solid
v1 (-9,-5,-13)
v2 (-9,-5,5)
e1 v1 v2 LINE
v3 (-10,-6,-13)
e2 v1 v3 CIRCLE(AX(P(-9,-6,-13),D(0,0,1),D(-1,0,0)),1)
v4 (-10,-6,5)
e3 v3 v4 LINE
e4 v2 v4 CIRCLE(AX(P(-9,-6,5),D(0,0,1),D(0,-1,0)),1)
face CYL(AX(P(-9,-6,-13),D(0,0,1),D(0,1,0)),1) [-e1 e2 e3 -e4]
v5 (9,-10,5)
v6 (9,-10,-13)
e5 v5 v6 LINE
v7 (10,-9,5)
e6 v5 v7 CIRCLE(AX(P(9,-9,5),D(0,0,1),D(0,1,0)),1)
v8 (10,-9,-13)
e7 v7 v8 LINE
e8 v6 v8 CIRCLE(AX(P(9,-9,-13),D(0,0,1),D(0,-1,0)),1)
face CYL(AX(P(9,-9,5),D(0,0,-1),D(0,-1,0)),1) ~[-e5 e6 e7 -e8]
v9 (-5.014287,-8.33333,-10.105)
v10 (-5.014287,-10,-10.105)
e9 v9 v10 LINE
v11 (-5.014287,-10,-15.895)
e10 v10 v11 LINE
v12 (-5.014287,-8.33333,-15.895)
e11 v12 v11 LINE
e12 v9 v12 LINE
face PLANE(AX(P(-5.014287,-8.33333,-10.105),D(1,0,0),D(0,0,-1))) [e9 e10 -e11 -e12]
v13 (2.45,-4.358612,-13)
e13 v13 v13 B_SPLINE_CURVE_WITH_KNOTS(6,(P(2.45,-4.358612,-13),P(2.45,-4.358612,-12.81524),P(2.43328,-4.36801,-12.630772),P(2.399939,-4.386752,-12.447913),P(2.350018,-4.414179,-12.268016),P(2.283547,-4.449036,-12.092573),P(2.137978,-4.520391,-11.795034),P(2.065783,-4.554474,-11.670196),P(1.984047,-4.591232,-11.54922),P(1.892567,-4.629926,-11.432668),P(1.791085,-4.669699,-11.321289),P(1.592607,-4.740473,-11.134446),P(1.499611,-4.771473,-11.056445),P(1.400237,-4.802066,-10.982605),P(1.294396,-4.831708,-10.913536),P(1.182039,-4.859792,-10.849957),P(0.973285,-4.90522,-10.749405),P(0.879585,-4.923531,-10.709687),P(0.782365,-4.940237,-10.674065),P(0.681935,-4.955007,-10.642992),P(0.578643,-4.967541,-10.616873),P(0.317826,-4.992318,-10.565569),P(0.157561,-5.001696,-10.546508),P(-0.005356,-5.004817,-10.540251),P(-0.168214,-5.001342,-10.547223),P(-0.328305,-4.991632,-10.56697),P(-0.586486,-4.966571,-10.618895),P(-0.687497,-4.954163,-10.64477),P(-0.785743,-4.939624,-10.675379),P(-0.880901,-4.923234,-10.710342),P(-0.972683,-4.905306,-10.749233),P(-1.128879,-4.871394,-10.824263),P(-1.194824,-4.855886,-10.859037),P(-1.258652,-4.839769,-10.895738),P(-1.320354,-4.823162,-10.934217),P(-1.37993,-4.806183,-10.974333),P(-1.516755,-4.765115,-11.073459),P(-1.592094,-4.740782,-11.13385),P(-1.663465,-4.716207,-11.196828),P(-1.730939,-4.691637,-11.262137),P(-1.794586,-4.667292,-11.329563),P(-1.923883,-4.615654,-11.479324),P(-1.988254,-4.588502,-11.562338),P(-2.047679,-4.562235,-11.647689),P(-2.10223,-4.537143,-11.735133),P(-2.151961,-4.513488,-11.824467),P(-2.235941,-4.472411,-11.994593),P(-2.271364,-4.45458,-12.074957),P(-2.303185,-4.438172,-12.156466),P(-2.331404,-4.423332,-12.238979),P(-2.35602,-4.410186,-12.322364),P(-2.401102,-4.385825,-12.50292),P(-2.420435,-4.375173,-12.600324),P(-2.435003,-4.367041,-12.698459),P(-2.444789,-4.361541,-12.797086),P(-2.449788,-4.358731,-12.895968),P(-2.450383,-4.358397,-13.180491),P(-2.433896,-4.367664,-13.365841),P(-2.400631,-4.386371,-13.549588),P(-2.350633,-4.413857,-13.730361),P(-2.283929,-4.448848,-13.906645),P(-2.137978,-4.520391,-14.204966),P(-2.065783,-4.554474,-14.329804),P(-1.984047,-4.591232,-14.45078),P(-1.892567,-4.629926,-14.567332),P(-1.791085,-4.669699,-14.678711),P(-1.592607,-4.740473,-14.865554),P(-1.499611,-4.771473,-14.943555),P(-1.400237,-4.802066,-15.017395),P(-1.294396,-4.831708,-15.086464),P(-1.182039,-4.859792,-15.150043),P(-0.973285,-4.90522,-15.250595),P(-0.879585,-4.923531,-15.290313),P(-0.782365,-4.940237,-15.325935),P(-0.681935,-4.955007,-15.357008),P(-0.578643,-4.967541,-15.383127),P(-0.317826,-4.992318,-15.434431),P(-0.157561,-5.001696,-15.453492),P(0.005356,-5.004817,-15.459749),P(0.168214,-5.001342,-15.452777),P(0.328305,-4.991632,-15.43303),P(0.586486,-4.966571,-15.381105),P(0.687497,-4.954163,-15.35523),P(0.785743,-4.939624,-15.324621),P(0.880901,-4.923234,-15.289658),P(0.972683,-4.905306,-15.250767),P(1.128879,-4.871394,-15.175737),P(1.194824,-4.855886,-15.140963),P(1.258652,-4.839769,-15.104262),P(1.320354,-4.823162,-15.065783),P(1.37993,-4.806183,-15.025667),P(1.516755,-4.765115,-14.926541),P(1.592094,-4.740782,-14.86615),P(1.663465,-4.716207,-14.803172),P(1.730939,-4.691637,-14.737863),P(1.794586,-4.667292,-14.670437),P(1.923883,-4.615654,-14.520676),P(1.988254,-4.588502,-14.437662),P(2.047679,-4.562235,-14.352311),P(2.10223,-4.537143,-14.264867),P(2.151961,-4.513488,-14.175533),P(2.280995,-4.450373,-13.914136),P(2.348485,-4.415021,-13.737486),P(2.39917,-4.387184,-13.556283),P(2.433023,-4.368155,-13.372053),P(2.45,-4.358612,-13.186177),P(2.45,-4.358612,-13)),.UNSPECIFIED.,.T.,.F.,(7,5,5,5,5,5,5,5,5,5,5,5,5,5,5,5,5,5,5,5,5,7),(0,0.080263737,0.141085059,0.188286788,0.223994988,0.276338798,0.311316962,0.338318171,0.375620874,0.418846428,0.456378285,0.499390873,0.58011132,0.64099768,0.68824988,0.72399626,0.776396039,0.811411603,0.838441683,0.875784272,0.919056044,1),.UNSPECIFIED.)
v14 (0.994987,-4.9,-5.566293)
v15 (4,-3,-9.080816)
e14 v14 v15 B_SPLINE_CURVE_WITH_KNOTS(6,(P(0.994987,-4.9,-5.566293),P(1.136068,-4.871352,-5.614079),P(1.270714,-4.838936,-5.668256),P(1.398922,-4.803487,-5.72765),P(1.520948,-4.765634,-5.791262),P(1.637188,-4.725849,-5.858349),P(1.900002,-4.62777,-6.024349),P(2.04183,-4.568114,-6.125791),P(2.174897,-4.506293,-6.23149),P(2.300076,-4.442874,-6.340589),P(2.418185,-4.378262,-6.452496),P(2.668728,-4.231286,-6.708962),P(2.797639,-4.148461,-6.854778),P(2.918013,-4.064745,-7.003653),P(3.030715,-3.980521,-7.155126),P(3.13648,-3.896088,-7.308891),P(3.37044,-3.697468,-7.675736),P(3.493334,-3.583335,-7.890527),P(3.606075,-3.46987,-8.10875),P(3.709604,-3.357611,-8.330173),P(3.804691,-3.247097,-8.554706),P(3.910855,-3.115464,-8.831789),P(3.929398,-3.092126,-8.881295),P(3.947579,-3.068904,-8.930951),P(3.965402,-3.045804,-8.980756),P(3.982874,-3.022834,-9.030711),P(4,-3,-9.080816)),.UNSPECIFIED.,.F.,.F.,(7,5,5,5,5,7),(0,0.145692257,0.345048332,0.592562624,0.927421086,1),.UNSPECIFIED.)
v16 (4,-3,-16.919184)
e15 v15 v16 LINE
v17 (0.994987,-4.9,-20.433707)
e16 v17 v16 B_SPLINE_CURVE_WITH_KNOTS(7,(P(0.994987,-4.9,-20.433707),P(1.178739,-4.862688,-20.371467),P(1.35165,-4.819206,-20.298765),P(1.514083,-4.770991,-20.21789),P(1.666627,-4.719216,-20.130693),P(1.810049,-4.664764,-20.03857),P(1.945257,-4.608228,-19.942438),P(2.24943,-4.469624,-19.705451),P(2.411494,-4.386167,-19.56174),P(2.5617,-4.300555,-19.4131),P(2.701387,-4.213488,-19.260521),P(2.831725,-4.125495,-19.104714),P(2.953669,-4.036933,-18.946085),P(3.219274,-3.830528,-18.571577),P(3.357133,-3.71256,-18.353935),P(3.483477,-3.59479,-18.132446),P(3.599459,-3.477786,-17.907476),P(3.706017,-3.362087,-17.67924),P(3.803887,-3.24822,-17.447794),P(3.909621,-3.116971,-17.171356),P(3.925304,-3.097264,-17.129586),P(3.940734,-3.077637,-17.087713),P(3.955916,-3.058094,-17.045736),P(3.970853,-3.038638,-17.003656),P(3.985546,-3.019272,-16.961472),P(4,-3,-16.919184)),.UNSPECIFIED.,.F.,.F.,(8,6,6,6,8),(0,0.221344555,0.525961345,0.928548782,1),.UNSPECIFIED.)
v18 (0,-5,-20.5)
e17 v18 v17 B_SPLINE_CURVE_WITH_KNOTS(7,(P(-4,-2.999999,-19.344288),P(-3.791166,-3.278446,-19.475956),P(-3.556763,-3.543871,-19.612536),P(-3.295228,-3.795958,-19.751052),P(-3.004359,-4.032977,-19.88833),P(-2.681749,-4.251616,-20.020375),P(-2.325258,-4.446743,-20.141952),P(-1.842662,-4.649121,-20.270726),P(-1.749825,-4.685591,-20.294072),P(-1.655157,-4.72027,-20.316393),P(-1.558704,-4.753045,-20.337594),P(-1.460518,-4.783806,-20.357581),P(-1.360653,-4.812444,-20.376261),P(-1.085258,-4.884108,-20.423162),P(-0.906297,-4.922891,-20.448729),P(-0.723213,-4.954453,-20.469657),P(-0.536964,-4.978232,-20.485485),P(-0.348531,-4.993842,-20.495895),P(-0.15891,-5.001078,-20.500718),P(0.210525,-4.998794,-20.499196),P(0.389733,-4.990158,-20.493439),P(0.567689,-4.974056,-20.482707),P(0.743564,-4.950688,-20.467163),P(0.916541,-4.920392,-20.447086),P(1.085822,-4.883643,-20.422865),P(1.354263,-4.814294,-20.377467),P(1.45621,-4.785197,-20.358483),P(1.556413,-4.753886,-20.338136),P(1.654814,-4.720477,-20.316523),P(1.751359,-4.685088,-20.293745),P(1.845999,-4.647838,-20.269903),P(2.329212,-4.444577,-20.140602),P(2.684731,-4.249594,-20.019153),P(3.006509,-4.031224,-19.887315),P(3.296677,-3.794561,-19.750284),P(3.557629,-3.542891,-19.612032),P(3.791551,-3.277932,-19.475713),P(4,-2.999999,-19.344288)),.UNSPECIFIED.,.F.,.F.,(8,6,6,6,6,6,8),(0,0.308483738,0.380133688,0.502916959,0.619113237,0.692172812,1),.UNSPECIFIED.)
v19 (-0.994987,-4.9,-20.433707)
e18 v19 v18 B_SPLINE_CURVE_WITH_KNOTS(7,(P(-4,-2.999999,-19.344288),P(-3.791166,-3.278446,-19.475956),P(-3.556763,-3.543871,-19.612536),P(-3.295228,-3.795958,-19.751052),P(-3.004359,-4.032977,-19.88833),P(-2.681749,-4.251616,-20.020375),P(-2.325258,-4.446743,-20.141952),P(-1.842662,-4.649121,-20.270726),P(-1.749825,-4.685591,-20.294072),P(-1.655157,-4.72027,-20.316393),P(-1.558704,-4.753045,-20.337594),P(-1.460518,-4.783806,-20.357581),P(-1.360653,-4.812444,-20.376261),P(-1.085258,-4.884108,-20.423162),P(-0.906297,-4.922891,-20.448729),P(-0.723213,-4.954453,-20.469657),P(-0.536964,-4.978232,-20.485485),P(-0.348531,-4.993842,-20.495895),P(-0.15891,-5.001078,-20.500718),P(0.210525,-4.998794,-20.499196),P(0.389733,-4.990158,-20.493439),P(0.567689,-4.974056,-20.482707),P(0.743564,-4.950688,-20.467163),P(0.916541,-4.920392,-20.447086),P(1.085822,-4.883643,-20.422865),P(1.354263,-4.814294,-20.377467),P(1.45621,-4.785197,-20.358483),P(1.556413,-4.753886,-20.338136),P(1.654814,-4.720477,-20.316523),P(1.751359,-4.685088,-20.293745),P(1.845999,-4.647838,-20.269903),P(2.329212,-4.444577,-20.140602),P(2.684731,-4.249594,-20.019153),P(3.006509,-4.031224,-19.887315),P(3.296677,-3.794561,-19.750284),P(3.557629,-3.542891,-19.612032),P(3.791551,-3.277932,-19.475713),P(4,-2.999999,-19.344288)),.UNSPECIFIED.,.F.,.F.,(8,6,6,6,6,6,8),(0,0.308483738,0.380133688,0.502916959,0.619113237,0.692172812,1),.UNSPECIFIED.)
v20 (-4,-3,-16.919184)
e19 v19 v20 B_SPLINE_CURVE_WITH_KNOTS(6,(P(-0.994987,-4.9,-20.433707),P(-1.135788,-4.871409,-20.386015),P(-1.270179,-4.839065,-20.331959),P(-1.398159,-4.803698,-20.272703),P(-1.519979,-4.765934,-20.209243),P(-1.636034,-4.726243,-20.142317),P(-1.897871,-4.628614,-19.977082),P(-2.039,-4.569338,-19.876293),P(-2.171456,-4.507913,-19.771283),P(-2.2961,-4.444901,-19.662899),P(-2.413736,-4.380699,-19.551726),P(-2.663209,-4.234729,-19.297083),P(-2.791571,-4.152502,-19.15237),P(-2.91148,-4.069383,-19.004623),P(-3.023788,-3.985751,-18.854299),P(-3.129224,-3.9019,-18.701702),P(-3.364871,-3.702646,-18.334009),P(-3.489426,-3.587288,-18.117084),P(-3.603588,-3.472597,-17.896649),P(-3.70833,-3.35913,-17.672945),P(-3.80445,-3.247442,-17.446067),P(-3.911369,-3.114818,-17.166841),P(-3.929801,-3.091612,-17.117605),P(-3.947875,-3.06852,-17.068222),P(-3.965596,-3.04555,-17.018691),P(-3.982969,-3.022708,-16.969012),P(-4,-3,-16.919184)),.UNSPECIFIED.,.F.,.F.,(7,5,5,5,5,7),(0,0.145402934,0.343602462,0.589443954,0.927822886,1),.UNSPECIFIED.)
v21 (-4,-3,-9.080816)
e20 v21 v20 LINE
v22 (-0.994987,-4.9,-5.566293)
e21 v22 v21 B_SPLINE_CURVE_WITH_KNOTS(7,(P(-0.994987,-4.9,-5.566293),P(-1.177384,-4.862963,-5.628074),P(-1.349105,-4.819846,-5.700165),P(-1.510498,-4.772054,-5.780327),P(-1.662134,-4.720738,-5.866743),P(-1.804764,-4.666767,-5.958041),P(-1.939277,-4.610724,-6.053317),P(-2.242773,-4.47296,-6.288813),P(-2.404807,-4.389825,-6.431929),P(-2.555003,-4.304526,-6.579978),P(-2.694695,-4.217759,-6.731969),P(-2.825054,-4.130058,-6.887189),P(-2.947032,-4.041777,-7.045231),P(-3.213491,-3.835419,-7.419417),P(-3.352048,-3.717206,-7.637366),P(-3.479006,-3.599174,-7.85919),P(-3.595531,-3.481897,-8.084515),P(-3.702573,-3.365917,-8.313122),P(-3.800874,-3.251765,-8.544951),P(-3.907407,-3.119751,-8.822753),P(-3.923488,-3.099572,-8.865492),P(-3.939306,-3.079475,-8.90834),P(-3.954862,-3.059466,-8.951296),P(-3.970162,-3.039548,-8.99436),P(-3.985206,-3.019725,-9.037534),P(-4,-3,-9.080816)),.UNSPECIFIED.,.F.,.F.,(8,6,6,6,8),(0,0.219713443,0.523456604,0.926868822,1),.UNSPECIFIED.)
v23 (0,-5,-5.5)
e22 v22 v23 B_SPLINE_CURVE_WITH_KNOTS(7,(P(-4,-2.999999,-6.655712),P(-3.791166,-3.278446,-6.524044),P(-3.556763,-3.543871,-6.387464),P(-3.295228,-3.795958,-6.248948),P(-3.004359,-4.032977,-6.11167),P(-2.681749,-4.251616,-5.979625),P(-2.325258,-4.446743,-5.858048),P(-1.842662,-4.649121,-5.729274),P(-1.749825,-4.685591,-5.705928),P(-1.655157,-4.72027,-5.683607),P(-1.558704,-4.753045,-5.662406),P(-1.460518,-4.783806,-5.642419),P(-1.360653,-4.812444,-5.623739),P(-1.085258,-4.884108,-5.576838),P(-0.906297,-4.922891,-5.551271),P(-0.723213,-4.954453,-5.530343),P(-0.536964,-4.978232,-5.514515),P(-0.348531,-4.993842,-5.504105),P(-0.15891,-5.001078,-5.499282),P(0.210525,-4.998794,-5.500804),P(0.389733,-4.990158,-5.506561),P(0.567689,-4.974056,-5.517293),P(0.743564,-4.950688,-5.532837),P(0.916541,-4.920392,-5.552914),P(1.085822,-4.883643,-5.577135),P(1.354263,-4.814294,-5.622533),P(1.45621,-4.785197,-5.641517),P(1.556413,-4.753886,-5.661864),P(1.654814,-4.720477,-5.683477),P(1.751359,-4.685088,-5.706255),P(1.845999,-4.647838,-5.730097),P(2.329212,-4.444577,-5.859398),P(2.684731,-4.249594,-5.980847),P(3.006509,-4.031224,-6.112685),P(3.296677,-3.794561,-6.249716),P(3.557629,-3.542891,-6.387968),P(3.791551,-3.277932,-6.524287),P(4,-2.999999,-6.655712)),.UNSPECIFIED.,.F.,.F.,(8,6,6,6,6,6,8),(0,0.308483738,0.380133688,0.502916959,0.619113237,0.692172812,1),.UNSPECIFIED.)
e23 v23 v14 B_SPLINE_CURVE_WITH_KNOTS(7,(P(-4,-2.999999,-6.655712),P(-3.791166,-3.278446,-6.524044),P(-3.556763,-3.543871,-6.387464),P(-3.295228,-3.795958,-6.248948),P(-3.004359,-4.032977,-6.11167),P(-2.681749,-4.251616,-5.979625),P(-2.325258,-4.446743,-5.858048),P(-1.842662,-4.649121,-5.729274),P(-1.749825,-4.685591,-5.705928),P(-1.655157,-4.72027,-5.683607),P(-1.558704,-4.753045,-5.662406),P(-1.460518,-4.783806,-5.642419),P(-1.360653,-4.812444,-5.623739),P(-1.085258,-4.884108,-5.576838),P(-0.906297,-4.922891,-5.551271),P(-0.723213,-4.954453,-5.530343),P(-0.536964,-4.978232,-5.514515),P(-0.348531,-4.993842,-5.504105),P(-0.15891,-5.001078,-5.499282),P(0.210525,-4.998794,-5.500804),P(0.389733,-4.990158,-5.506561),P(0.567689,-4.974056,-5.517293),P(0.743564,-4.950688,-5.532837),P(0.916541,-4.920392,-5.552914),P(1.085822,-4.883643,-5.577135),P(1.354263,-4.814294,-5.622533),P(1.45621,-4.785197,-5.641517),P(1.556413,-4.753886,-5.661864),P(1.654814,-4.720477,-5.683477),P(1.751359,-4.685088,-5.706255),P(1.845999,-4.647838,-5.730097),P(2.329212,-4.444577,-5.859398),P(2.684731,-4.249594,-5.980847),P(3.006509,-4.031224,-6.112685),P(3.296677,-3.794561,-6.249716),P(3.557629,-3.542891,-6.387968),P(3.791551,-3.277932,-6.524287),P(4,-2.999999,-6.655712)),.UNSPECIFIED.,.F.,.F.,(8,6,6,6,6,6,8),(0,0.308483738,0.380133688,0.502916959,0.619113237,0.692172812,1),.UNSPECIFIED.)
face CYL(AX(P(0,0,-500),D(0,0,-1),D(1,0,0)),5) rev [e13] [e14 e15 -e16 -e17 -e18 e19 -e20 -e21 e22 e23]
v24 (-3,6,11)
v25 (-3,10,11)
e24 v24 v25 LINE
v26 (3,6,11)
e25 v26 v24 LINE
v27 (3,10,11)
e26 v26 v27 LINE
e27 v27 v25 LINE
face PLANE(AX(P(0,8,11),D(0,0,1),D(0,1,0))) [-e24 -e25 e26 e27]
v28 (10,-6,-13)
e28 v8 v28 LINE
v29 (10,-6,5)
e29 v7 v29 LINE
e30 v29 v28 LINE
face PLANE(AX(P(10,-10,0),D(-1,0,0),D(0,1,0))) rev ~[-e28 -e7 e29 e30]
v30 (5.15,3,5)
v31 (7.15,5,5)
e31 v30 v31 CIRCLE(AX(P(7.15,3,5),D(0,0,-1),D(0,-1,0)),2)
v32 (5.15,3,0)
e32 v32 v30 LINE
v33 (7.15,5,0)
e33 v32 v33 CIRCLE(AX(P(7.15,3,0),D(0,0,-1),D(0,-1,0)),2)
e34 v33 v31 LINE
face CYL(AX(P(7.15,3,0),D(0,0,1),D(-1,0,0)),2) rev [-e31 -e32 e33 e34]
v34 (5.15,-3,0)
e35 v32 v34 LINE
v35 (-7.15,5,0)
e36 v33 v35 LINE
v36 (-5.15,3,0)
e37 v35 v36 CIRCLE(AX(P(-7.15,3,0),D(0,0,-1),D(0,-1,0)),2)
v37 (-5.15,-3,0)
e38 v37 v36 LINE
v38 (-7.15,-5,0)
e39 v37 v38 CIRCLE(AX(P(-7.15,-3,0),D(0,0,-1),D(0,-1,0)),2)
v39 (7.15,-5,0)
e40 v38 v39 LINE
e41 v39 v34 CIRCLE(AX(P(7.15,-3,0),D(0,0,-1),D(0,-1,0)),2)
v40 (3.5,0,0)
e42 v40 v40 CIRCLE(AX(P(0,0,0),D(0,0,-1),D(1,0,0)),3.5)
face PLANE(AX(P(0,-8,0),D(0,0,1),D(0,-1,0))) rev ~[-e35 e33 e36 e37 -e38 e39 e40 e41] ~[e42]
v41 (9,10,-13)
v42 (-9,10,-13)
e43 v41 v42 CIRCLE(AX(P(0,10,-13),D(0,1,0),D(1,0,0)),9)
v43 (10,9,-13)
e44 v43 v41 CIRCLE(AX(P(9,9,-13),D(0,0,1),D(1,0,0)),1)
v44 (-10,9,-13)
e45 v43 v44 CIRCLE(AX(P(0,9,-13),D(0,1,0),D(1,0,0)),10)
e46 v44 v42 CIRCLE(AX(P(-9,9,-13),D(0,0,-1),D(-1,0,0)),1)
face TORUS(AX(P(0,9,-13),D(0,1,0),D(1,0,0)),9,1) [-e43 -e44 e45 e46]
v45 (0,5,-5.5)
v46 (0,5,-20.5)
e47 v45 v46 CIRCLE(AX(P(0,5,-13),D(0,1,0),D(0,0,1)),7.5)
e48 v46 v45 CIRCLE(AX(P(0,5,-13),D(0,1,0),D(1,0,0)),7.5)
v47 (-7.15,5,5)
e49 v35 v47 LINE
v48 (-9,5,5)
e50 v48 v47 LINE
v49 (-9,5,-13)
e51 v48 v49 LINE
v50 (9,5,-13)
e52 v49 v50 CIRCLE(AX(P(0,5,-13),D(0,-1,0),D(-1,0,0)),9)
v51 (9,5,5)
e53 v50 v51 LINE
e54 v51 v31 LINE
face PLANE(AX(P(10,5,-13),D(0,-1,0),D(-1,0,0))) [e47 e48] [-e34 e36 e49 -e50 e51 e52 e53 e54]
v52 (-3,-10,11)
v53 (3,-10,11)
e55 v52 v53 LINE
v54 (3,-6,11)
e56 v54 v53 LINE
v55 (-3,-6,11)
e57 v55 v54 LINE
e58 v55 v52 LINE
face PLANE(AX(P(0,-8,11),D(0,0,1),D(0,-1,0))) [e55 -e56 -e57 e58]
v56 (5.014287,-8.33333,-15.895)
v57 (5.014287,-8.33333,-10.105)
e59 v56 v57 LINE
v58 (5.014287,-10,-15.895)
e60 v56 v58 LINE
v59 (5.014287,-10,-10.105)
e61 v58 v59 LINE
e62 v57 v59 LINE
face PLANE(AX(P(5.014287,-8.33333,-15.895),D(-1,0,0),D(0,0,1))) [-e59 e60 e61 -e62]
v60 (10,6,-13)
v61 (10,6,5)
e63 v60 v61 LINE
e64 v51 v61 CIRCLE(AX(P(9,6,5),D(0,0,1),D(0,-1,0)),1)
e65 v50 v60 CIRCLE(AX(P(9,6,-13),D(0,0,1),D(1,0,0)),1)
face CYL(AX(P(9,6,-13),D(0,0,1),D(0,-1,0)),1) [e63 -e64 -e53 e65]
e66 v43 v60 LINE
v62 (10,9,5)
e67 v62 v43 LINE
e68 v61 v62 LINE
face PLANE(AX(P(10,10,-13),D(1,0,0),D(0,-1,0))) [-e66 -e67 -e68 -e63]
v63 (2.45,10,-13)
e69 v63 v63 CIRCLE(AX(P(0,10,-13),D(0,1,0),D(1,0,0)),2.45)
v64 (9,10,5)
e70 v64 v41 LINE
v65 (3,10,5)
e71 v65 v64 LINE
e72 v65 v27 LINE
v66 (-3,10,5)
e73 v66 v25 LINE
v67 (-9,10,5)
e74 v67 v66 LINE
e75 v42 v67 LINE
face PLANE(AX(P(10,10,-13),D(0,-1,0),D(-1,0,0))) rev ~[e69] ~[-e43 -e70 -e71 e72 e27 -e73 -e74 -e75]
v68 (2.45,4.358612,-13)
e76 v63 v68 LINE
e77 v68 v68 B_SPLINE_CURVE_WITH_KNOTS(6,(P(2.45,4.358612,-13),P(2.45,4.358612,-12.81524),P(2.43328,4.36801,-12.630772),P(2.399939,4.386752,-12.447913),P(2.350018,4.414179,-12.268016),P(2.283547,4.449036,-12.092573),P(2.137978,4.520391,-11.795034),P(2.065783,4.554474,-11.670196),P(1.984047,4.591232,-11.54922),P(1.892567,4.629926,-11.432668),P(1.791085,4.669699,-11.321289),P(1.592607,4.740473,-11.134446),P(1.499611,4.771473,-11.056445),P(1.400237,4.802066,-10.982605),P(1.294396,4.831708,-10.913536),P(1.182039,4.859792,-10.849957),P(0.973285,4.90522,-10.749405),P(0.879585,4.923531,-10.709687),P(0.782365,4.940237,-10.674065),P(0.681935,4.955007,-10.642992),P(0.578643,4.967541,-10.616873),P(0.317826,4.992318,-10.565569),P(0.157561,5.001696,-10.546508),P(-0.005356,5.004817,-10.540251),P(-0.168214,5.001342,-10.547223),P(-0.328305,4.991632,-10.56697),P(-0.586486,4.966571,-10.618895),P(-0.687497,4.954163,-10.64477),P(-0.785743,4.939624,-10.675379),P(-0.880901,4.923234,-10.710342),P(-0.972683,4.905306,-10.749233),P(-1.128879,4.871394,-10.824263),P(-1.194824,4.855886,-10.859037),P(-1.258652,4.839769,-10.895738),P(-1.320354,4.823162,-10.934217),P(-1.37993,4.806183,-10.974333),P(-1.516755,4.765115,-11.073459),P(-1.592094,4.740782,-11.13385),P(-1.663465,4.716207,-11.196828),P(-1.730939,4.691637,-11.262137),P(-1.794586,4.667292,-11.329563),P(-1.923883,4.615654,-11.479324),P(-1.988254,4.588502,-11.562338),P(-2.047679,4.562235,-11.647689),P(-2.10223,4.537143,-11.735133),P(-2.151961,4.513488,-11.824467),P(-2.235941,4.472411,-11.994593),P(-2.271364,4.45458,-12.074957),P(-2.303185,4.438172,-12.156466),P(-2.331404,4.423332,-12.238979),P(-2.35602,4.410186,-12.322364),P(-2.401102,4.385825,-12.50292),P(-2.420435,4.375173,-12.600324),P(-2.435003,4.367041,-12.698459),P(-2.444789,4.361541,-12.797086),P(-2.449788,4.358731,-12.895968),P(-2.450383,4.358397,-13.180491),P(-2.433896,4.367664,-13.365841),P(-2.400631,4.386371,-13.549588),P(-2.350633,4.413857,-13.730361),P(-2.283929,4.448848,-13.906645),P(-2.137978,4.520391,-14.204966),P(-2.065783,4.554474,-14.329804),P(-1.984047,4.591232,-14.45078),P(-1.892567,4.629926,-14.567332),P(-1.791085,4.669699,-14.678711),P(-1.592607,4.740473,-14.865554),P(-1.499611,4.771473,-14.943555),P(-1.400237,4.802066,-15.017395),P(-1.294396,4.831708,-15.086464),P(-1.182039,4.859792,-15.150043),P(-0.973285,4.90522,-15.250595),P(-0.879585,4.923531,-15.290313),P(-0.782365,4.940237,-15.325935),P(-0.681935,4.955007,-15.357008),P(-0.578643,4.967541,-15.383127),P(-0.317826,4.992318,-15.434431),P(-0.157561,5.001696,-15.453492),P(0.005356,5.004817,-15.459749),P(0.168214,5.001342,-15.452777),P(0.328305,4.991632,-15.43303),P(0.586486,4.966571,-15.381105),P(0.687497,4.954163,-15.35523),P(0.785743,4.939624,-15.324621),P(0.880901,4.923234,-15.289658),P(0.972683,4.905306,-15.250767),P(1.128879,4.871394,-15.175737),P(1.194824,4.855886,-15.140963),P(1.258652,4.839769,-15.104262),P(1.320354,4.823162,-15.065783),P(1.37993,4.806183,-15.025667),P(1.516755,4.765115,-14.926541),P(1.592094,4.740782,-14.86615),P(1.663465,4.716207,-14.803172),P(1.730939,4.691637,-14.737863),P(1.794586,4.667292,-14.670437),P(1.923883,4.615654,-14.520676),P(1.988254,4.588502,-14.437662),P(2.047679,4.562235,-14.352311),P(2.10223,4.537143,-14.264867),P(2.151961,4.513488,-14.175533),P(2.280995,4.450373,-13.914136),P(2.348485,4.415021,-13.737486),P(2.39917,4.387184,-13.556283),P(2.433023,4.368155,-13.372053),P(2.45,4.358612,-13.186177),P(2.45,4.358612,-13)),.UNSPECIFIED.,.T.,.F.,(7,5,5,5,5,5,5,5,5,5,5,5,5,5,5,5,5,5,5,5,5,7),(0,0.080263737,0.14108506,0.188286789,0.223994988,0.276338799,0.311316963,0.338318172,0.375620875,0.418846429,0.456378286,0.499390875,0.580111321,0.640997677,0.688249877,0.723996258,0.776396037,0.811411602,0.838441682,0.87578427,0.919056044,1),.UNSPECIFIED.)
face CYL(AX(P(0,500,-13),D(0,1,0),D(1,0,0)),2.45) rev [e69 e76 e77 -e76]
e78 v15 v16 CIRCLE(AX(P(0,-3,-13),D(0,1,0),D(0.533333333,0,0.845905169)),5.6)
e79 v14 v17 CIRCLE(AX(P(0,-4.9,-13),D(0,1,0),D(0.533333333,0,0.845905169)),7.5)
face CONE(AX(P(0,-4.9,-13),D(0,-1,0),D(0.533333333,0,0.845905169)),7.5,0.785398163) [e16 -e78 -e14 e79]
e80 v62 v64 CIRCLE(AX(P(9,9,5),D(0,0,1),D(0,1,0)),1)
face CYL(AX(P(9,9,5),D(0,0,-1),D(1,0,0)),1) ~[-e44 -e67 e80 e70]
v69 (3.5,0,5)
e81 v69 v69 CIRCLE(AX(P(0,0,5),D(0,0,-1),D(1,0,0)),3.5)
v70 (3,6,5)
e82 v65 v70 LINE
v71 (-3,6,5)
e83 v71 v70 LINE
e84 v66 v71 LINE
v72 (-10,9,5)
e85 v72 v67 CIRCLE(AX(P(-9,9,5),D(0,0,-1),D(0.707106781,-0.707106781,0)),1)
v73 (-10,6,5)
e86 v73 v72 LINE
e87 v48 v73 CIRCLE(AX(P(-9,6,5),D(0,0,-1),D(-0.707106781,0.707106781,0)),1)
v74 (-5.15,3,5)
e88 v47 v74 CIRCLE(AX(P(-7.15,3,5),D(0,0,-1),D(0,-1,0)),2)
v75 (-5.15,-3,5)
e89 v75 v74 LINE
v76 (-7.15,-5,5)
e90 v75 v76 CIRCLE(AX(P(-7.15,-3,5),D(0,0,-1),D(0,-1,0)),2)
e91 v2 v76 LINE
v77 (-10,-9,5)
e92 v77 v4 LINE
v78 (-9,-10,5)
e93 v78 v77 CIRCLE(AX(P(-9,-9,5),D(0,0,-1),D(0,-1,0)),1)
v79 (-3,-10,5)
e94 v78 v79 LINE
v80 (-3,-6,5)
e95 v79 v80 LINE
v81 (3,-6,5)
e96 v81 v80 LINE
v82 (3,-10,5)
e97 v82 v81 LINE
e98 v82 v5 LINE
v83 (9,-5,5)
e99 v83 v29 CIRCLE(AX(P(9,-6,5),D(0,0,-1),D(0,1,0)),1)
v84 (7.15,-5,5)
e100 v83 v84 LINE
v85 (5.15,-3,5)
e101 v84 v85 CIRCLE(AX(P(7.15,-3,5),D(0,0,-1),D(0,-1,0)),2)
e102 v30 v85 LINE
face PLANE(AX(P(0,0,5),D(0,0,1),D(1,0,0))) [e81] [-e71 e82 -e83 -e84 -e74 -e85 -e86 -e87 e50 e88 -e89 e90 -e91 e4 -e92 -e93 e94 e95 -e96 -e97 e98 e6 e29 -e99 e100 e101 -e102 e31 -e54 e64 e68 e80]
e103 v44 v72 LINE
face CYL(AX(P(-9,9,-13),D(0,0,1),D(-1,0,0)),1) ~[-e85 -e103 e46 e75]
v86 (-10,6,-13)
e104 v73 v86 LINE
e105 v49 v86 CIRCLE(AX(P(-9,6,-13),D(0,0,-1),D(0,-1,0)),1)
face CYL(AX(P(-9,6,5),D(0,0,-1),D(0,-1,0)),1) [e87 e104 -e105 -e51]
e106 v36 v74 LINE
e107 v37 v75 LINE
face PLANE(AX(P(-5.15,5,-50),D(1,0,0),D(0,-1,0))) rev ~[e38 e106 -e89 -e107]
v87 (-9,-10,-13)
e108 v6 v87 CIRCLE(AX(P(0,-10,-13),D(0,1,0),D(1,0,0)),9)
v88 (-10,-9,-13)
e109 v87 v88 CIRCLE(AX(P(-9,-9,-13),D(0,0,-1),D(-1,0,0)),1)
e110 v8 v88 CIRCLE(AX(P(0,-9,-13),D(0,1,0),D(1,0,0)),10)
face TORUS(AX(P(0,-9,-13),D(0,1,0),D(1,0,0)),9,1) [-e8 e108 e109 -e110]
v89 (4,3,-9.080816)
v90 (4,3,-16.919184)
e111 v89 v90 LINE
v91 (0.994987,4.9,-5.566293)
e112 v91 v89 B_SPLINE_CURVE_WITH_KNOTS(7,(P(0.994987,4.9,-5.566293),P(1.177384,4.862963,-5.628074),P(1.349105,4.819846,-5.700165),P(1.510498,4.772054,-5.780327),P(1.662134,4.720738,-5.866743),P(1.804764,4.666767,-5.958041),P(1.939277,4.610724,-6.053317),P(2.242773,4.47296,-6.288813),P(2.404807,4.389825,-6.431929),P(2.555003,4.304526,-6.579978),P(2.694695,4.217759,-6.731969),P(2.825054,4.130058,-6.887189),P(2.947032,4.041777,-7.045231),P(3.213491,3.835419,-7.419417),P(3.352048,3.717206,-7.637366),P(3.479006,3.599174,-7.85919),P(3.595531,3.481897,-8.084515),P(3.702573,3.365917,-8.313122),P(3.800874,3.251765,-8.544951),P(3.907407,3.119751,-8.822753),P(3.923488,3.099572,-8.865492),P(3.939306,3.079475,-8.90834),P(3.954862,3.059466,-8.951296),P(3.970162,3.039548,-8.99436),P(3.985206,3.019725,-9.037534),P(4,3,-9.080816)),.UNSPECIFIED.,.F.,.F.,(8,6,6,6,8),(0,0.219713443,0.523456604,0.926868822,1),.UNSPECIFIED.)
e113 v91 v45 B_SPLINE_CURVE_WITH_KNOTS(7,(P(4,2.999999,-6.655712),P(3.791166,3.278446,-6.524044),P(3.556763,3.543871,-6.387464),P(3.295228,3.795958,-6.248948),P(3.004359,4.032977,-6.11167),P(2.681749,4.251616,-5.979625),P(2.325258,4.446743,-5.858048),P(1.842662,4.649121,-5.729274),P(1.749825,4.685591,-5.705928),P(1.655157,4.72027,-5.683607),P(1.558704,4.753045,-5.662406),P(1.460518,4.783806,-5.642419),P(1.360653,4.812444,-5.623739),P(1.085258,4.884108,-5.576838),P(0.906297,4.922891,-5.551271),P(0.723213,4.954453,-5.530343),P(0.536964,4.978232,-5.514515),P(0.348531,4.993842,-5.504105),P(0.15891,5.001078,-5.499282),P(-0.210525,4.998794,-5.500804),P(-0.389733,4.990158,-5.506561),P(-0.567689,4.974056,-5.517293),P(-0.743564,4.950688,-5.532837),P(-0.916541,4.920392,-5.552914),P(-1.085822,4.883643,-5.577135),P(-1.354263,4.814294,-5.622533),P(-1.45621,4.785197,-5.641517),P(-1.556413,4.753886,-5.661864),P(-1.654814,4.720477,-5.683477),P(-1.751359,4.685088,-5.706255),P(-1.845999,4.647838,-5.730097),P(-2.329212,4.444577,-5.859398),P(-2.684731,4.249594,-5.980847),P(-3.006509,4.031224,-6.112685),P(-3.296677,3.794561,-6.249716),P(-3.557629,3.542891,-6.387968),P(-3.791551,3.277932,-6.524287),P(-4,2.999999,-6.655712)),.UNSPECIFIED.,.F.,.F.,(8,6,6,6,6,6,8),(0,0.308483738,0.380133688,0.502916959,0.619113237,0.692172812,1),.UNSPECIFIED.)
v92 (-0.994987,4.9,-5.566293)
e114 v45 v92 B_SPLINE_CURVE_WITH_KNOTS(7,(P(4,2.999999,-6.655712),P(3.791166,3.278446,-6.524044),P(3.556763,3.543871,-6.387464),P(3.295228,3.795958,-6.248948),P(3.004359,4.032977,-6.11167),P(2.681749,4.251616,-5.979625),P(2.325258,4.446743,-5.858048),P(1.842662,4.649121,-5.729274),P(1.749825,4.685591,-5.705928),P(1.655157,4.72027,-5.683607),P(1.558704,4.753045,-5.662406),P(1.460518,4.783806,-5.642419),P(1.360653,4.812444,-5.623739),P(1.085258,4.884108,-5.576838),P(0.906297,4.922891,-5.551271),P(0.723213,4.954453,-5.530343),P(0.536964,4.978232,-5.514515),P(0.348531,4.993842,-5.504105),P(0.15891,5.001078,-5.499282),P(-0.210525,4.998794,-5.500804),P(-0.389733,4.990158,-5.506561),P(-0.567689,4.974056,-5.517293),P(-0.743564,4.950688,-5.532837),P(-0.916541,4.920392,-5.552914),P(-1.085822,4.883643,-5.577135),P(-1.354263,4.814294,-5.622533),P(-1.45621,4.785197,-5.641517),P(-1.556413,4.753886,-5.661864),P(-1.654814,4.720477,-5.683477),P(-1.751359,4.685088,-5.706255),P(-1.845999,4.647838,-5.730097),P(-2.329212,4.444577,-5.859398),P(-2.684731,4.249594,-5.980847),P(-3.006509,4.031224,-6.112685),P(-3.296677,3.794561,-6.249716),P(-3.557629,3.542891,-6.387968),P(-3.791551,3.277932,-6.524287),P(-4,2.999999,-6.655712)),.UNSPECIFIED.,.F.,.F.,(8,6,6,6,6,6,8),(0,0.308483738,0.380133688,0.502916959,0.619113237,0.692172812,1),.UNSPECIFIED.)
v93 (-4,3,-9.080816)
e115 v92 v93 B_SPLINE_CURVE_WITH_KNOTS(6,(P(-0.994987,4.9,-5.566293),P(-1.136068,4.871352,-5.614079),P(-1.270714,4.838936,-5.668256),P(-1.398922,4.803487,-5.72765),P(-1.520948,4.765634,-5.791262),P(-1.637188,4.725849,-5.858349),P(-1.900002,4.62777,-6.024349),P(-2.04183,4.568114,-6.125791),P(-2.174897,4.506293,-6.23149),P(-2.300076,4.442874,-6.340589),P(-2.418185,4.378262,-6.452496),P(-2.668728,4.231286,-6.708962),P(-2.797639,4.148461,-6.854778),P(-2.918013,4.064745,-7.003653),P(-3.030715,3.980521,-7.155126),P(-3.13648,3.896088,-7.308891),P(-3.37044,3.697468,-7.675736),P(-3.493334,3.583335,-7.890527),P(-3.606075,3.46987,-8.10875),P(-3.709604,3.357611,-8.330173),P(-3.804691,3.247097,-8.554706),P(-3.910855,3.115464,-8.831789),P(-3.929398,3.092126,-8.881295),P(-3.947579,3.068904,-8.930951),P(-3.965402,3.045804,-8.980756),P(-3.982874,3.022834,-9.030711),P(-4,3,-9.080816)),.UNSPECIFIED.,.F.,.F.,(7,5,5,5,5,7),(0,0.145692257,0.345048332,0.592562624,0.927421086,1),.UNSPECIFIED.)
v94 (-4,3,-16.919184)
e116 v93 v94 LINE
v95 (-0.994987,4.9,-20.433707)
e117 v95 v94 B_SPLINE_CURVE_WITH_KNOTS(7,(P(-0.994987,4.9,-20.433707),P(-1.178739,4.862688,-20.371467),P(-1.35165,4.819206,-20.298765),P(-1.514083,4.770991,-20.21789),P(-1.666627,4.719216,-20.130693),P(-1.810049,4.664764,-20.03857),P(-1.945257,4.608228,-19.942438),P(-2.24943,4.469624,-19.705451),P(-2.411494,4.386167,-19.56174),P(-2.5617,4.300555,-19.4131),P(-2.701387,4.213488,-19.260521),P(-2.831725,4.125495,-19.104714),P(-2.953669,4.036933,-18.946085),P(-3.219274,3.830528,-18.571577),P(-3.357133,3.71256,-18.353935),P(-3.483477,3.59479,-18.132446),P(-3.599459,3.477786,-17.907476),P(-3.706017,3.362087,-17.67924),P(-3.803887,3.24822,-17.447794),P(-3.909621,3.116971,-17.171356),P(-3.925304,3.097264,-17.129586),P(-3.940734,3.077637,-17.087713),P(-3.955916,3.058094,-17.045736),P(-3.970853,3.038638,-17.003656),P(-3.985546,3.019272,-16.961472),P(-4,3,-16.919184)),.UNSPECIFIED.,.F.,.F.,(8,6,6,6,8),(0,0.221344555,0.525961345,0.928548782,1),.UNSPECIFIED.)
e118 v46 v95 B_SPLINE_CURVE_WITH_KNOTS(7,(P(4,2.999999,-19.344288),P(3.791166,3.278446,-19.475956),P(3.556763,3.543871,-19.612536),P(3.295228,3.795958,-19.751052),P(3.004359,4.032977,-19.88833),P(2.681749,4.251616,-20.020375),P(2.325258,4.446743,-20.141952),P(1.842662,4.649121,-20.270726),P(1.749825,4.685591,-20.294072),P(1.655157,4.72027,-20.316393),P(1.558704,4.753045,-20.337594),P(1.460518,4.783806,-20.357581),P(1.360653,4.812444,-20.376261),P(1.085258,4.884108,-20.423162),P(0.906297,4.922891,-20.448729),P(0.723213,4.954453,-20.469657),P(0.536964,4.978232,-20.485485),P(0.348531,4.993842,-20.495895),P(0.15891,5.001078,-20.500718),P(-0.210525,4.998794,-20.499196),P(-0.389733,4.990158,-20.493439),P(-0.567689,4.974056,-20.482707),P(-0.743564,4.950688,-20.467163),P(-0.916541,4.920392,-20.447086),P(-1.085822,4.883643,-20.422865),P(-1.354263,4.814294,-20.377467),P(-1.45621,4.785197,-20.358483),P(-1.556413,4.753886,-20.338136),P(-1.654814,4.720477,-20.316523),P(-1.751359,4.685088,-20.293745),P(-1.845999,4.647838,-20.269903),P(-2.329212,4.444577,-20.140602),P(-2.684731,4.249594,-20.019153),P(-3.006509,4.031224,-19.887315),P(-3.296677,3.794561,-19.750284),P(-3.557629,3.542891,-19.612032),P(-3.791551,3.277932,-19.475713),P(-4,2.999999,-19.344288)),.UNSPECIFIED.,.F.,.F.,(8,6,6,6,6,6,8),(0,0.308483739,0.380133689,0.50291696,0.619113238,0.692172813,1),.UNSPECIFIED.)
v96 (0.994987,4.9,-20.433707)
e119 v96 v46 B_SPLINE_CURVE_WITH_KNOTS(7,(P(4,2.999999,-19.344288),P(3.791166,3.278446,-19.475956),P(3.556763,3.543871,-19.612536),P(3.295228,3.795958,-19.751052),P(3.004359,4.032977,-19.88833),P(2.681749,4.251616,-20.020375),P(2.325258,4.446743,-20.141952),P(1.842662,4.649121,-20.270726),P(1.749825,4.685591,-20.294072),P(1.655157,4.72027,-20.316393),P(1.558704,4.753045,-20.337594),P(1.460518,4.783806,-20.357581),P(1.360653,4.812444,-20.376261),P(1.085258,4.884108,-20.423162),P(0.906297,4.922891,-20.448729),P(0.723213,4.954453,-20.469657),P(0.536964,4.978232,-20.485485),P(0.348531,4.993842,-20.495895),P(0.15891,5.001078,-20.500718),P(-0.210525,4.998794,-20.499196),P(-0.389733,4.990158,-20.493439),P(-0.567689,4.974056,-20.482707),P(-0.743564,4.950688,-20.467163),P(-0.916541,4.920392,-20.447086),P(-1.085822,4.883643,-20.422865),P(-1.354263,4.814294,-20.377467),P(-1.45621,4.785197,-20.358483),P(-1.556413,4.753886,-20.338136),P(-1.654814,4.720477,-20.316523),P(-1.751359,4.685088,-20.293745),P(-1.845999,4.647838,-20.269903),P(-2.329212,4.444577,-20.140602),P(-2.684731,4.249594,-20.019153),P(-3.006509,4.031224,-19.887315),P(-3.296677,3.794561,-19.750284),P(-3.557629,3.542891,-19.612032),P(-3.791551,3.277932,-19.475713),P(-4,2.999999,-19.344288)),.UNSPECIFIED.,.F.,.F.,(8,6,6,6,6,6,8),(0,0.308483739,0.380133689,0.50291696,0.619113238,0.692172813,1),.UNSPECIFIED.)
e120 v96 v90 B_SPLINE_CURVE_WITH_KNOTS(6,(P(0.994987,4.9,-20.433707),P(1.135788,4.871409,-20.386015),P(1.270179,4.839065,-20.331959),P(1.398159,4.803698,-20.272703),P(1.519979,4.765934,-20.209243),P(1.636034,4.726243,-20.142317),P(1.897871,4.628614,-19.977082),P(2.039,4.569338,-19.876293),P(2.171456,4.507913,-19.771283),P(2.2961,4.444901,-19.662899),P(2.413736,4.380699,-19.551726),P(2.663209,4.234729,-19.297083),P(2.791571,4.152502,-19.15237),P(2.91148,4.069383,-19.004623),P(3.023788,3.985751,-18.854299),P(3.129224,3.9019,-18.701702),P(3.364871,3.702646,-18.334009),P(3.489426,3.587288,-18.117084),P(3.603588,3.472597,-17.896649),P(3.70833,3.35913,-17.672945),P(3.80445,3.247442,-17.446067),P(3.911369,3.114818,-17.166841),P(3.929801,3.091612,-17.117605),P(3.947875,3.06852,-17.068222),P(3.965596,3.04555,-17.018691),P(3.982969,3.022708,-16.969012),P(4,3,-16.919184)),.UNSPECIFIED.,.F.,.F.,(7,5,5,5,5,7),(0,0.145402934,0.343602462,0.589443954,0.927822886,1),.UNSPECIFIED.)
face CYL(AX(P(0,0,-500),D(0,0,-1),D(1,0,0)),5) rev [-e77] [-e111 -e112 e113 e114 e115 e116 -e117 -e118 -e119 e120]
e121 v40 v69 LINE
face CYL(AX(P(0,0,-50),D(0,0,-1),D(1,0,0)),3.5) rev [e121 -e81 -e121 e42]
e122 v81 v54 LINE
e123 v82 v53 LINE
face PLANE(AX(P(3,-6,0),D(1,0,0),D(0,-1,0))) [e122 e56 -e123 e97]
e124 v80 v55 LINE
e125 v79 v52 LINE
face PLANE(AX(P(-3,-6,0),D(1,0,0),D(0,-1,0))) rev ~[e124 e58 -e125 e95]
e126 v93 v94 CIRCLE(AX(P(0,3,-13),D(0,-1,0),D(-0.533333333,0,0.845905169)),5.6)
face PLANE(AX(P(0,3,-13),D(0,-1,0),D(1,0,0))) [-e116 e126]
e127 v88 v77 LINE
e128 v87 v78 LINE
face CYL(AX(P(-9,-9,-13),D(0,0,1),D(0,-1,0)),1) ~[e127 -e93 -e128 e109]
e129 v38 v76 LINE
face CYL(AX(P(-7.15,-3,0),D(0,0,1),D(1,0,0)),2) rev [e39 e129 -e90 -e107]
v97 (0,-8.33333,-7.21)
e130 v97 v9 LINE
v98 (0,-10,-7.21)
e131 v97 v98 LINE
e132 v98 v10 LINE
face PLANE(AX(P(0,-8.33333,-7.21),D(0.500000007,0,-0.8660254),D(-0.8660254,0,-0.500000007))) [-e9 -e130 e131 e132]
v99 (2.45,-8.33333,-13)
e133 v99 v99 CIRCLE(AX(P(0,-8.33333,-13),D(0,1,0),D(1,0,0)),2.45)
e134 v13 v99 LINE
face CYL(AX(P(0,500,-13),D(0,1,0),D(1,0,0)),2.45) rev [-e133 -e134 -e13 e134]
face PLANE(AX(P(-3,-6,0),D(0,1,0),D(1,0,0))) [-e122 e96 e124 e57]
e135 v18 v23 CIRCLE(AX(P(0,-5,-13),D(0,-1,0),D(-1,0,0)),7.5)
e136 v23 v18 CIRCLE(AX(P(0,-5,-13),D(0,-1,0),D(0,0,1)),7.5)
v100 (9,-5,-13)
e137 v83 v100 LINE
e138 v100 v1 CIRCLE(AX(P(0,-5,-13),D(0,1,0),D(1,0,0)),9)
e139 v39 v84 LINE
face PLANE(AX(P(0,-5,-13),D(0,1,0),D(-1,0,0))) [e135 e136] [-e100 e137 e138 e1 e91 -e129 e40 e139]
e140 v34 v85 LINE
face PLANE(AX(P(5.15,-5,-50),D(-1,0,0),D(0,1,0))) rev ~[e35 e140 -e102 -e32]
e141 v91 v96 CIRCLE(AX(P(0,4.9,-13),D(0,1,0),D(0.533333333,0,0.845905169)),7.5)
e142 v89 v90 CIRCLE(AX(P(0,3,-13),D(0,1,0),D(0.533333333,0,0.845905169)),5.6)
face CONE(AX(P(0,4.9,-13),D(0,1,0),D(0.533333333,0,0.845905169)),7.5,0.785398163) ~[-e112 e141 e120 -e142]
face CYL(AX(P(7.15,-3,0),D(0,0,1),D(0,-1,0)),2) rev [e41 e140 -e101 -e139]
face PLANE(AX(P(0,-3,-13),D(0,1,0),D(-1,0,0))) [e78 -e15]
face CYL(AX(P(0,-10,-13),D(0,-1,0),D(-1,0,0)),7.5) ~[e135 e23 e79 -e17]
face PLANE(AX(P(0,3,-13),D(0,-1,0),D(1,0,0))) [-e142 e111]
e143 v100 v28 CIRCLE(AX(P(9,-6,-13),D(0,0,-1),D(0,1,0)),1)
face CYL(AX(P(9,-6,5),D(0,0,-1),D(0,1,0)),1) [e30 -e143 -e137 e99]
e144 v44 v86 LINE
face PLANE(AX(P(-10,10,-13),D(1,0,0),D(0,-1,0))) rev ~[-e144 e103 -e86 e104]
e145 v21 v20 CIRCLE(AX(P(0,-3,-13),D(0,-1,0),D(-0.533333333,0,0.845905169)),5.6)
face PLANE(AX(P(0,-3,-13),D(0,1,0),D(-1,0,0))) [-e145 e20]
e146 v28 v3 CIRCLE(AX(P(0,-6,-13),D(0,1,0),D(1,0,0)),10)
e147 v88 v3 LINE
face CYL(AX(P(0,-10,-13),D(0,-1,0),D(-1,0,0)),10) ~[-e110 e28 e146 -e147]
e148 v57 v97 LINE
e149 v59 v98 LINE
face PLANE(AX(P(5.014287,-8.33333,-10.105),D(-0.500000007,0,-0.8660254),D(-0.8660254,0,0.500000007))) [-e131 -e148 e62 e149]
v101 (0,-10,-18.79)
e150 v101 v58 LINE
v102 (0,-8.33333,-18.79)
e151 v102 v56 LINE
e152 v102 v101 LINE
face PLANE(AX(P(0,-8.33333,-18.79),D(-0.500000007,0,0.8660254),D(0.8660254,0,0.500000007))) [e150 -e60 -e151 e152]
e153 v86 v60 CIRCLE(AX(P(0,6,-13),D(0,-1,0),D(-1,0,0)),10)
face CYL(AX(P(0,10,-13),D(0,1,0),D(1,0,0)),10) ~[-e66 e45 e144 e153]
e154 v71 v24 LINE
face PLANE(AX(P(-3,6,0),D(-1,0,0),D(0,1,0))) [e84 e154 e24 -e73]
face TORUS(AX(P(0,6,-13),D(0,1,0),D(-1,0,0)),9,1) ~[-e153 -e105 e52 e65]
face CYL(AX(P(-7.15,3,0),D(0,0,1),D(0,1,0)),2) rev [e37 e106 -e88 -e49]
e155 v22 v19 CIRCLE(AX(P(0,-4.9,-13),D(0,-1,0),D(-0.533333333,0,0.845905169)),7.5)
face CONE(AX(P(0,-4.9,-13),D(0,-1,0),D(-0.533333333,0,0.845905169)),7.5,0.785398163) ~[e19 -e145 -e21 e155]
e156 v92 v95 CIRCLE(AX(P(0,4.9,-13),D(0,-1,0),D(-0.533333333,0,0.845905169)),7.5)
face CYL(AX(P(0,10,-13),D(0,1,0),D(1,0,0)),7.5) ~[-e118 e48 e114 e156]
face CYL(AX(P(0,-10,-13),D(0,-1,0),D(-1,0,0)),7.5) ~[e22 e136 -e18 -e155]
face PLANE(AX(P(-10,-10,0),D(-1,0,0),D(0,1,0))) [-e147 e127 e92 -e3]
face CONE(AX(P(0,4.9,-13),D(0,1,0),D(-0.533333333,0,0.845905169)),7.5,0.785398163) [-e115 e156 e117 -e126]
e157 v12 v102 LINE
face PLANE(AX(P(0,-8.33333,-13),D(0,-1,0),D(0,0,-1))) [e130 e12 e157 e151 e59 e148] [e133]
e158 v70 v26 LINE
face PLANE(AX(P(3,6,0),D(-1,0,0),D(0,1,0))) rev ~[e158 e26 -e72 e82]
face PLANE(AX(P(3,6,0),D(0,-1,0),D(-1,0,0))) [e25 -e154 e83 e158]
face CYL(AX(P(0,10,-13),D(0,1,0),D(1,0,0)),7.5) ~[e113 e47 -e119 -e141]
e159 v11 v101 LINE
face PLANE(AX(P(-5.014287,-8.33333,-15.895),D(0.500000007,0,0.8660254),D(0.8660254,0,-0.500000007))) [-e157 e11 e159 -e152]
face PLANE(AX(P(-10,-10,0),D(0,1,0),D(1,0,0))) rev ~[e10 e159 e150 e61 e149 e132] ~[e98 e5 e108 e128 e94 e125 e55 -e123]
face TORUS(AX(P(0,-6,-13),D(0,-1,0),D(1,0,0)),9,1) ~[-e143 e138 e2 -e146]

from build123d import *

# Parameters (mm, degrees)
CYLINDER006_R            = 2.45
CYLINDER006_DEPTH        = 1000
PRISM_DEPTH              = 5
CYLINDER005_R            = 5
CYLINDER005_DEPTH        = 1000
CYLINDER003_R            = 10
CYLINDER003_DEPTH        = 5
CYLINDER004_R            = 7.5
CYLINDER004_DEPTH        = 7
CUBE008_W                = 20
CUBE008_H                = 5
CUBE008_DEPTH            = 13
UNION001_PLACEMENT_ANGLE = 180
CYLINDER001_R            = 10
CYLINDER001_DEPTH        = 5
CYLINDER002_R            = 7.5
CYLINDER002_DEPTH        = 7
CUBE007_W                = 20
CUBE007_H                = 5
CUBE007_DEPTH            = 13
CUBE006_W                = 100
CUBE006_H                = 10
CUBE006_DEPTH            = 100
CUBE005_W                = 100
CUBE005_H                = 10
CUBE005_DEPTH            = 100
CUBE002_W                = 4
CUBE002_H                = 6
CUBE002_DEPTH            = 11
CUBE003_W                = 4
CUBE003_H                = 6
CUBE003_DEPTH            = 11
CUBE004_W                = 4
CUBE004_H                = 6
CUBE004_DEPTH            = 11
CUBE001_W                = 4
CUBE001_H                = 6
CUBE001_DEPTH            = 11
CYLINDER_R               = 3.5
CYLINDER_DEPTH           = 100
CUBE_W                   = 20
CUBE_H                   = 20
CUBE_DEPTH               = 5
CHAMFER_SIZE             = 1.9
CHAMFER001_SIZE          = 1.9
CHAMFER002_SIZE          = 1.9
CHAMFER003_SIZE          = 1.9
FILLET_R                 = 2
FILLET001_R              = 2
FILLET002_R              = 2
FILLET003_R              = 2
FILLET004_R              = 1
FILLET005_R              = 1
FILLET006_R              = 1
FILLET007_R              = 1


with BuildPart() as cylinder006:
    # cylinder006 → cylinder006 (new body)
    with BuildSketch(Plane(origin=(0, 500, -13), x_dir=(1, 0, 0), z_dir=(0, -1, 0))):
        Circle(CYLINDER006_R)
    extrude(amount=CYLINDER006_DEPTH)


with BuildPart() as prism:
    # prism → prism (new body)
    with BuildSketch(Plane(origin=(0, -8.33333, -13), x_dir=(0, 0, -1), z_dir=(0, -1, 0))):
        Polygon((5.79, 0), (2.895, 5.014287), (-2.895, 5.014287), (-5.79, 0), (-2.895, -5.014287), (2.895, -5.014287), align=None)
    extrude(amount=PRISM_DEPTH)


with BuildPart() as union002:
    # cylinder005 → cylinder005 (new body)
    with BuildSketch(Plane.XY.offset(-500)):
        Circle(CYLINDER005_R)
    extrude(amount=CYLINDER005_DEPTH)

    # union002: union cylinder006, prism
    add(cylinder006.part)
    add(prism.part)


with BuildPart() as cylinder003:
    # cylinder003 → cylinder003 (new body)
    with BuildSketch(Plane(origin=(0, 10, -13), x_dir=(1, 0, 0), z_dir=(0, -1, 0))):
        Circle(CYLINDER003_R)
    extrude(amount=CYLINDER003_DEPTH)


with BuildPart() as cylinder004:
    # cylinder004 → cylinder004 (new body)
    with BuildSketch(Plane(origin=(0, 10, -13), x_dir=(1, 0, 0), z_dir=(0, -1, 0))):
        Circle(CYLINDER004_R)
    extrude(amount=CYLINDER004_DEPTH)


with BuildPart() as union001:
    # cube008 → cube008 (new body)
    with BuildSketch(Plane(origin=(-10, -10, -13), x_dir=(1, 0, 0), z_dir=(0, 0, 1))):
        with Locations((10, 2.5)):
            Rectangle(CUBE008_W, CUBE008_H)
    extrude(amount=CUBE008_DEPTH)

    # union001: union cylinder003, cylinder004
    add(cylinder003.part)
    add(cylinder004.part)


with BuildPart() as union001_1:
    # union001 placement: moved
    add(union001.part.rotate(Axis((0, 0, 0), (0, 0, 1)), UNION001_PLACEMENT_ANGLE))


with BuildPart() as cylinder001:
    # cylinder001 → cylinder001 (new body)
    with BuildSketch(Plane(origin=(0, 10, -13), x_dir=(1, 0, 0), z_dir=(0, -1, 0))):
        Circle(CYLINDER001_R)
    extrude(amount=CYLINDER001_DEPTH)


with BuildPart() as cylinder002:
    # cylinder002 → cylinder002 (new body)
    with BuildSketch(Plane(origin=(0, 10, -13), x_dir=(1, 0, 0), z_dir=(0, -1, 0))):
        Circle(CYLINDER002_R)
    extrude(amount=CYLINDER002_DEPTH)


with BuildPart() as difference002:
    # cube007 → cube007 (new body)
    with BuildSketch(Plane(origin=(-10, -10, -13), x_dir=(1, 0, 0), z_dir=(0, 0, 1))):
        with Locations((10, 2.5)):
            Rectangle(CUBE007_W, CUBE007_H)
    extrude(amount=CUBE007_DEPTH)

    # union: union cylinder001, cylinder002
    add(cylinder001.part)
    add(cylinder002.part)

    # Group003: union union001
    add(union001_1.part)

    # difference002: cut union002
    add(union002.part, mode=Mode.SUBTRACT)


with BuildPart() as cube006:
    # cube006 → cube006 (new body)
    with BuildSketch(Plane(origin=(-5.15, 5, -50), x_dir=(-1, 0, 0), z_dir=(0, 0, 1))):
        with Locations((50, 5)):
            Rectangle(CUBE006_W, CUBE006_H)
    extrude(amount=CUBE006_DEPTH)


with BuildPart() as group002:
    # cube005 → cube005 (new body)
    with BuildSketch(Plane(origin=(5.15, -5, -50), x_dir=(1, 0, 0), z_dir=(0, 0, 1))):
        with Locations((50, 5)):
            Rectangle(CUBE005_W, CUBE005_H)
    extrude(amount=CUBE005_DEPTH)

    # Group002: union cube006
    add(cube006.part)


with BuildPart() as cube002:
    # cube002 → cube002 (new body)
    with BuildSketch(Plane(origin=(3, 6, 0), x_dir=(0, 1, 0), z_dir=(0, 0, 1))):
        with Locations((2, 3)):
            Rectangle(CUBE002_W, CUBE002_H)
    extrude(amount=CUBE002_DEPTH)


with BuildPart() as cube003:
    # cube003 → cube003 (new body)
    with BuildSketch(Plane(origin=(-6, 3, 0), x_dir=(-1, 0, 0), z_dir=(0, 0, 1))):
        with Locations((2, 3)):
            Rectangle(CUBE003_W, CUBE003_H)
    extrude(amount=CUBE003_DEPTH)


with BuildPart() as cube004:
    # cube004 → cube004 (new body)
    with BuildSketch(Plane(origin=(-3, -6, 0), x_dir=(0, -1, 0), z_dir=(0, 0, 1))):
        with Locations((2, 3)):
            Rectangle(CUBE004_W, CUBE004_H)
    extrude(amount=CUBE004_DEPTH)


with BuildPart() as group:
    # cube001 → cube001 (new body)
    with BuildSketch(Plane(origin=(6, -3, 0), x_dir=(1, 0, 0), z_dir=(0, 0, 1))):
        with Locations((2, 3)):
            Rectangle(CUBE001_W, CUBE001_H)
    extrude(amount=CUBE001_DEPTH)

    # Group: union cube002, cube003, cube004
    add(cube002.part)
    add(cube003.part)
    add(cube004.part)


with BuildPart() as cylinder:
    # cylinder → cylinder (new body)
    with BuildSketch(Plane.XY.offset(-50)):
        Circle(CYLINDER_R)
    extrude(amount=CYLINDER_DEPTH)


with BuildPart() as fillet007:
    # cube → cube (new body)
    with BuildSketch(Plane(origin=(-10, -10, 0), x_dir=(1, 0, 0), z_dir=(0, 0, 1))):
        with Locations((10, 10)):
            Rectangle(CUBE_W, CUBE_H)
    extrude(amount=CUBE_DEPTH)

    # difference: cut cylinder
    add(cylinder.part, mode=Mode.SUBTRACT)

    # Group001: union Group
    add(group.part)

    # difference001: cut Group002
    add(group002.part, mode=Mode.SUBTRACT)

    # Group004: union difference002
    add(difference002.part)

    # Chamfer
    chamfer_edges = [fillet007.edges().sort_by_distance(p)[0] for p in [
        (6.566963, 3, -9.377156),
    ]]
    chamfer(chamfer_edges, length=CHAMFER_SIZE)

    # Chamfer001
    chamfer001_edges = [fillet007.edges().sort_by_distance(p)[0] for p in [
        (7.5, -3, -13),
    ]]
    chamfer(chamfer001_edges, length=CHAMFER001_SIZE)

    # Chamfer002
    chamfer002_edges = [fillet007.edges().sort_by_distance(p)[0] for p in [
        (-6.566963, -3, -9.377156),
    ]]
    chamfer(chamfer002_edges, length=CHAMFER002_SIZE)

    # Chamfer003
    chamfer003_edges = [fillet007.edges().sort_by_distance(p)[0] for p in [
        (-7.5, 3, -13),
    ]]
    chamfer(chamfer003_edges, length=CHAMFER003_SIZE)

    # Fillet
    fillet_edges = [fillet007.edges().sort_by_distance(p)[0] for p in [
        (-5.15, 5, 2.5),
    ]]
    fillet(fillet_edges, radius=FILLET_R)

    # Fillet001
    fillet001_edges = [fillet007.edges().sort_by_distance(p)[0] for p in [
        (-5.15, -5, 2.5),
    ]]
    fillet(fillet001_edges, radius=FILLET001_R)

    # Fillet002
    fillet002_edges = [fillet007.edges().sort_by_distance(p)[0] for p in [
        (5.15, 5, 2.5),
    ]]
    fillet(fillet002_edges, radius=FILLET002_R)

    # Fillet003
    fillet003_edges = [fillet007.edges().sort_by_distance(p)[0] for p in [
        (5.15, -5, 2.5),
    ]]
    fillet(fillet003_edges, radius=FILLET003_R)

    # Fillet004
    fillet004_edges = [fillet007.edges().sort_by_distance(p)[0] for p in [
        (-10, 10, -4),
    ]]
    fillet(fillet004_edges, radius=FILLET004_R)

    # Fillet005
    fillet005_edges = [fillet007.edges().sort_by_distance(p)[0] for p in [
        (-10, -10, -4),
    ]]
    fillet(fillet005_edges, radius=FILLET005_R)

    # Fillet006
    fillet006_edges = [fillet007.edges().sort_by_distance(p)[0] for p in [
        (-10, -5, -4),
    ]]
    fillet(fillet006_edges, radius=FILLET006_R)

    # Fillet007
    fillet007_edges = [fillet007.edges().sort_by_distance(p)[0] for p in [
        (-10, 5, -4),
    ]]
    fillet(fillet007_edges, radius=FILLET007_R)


solid = fillet007.part
